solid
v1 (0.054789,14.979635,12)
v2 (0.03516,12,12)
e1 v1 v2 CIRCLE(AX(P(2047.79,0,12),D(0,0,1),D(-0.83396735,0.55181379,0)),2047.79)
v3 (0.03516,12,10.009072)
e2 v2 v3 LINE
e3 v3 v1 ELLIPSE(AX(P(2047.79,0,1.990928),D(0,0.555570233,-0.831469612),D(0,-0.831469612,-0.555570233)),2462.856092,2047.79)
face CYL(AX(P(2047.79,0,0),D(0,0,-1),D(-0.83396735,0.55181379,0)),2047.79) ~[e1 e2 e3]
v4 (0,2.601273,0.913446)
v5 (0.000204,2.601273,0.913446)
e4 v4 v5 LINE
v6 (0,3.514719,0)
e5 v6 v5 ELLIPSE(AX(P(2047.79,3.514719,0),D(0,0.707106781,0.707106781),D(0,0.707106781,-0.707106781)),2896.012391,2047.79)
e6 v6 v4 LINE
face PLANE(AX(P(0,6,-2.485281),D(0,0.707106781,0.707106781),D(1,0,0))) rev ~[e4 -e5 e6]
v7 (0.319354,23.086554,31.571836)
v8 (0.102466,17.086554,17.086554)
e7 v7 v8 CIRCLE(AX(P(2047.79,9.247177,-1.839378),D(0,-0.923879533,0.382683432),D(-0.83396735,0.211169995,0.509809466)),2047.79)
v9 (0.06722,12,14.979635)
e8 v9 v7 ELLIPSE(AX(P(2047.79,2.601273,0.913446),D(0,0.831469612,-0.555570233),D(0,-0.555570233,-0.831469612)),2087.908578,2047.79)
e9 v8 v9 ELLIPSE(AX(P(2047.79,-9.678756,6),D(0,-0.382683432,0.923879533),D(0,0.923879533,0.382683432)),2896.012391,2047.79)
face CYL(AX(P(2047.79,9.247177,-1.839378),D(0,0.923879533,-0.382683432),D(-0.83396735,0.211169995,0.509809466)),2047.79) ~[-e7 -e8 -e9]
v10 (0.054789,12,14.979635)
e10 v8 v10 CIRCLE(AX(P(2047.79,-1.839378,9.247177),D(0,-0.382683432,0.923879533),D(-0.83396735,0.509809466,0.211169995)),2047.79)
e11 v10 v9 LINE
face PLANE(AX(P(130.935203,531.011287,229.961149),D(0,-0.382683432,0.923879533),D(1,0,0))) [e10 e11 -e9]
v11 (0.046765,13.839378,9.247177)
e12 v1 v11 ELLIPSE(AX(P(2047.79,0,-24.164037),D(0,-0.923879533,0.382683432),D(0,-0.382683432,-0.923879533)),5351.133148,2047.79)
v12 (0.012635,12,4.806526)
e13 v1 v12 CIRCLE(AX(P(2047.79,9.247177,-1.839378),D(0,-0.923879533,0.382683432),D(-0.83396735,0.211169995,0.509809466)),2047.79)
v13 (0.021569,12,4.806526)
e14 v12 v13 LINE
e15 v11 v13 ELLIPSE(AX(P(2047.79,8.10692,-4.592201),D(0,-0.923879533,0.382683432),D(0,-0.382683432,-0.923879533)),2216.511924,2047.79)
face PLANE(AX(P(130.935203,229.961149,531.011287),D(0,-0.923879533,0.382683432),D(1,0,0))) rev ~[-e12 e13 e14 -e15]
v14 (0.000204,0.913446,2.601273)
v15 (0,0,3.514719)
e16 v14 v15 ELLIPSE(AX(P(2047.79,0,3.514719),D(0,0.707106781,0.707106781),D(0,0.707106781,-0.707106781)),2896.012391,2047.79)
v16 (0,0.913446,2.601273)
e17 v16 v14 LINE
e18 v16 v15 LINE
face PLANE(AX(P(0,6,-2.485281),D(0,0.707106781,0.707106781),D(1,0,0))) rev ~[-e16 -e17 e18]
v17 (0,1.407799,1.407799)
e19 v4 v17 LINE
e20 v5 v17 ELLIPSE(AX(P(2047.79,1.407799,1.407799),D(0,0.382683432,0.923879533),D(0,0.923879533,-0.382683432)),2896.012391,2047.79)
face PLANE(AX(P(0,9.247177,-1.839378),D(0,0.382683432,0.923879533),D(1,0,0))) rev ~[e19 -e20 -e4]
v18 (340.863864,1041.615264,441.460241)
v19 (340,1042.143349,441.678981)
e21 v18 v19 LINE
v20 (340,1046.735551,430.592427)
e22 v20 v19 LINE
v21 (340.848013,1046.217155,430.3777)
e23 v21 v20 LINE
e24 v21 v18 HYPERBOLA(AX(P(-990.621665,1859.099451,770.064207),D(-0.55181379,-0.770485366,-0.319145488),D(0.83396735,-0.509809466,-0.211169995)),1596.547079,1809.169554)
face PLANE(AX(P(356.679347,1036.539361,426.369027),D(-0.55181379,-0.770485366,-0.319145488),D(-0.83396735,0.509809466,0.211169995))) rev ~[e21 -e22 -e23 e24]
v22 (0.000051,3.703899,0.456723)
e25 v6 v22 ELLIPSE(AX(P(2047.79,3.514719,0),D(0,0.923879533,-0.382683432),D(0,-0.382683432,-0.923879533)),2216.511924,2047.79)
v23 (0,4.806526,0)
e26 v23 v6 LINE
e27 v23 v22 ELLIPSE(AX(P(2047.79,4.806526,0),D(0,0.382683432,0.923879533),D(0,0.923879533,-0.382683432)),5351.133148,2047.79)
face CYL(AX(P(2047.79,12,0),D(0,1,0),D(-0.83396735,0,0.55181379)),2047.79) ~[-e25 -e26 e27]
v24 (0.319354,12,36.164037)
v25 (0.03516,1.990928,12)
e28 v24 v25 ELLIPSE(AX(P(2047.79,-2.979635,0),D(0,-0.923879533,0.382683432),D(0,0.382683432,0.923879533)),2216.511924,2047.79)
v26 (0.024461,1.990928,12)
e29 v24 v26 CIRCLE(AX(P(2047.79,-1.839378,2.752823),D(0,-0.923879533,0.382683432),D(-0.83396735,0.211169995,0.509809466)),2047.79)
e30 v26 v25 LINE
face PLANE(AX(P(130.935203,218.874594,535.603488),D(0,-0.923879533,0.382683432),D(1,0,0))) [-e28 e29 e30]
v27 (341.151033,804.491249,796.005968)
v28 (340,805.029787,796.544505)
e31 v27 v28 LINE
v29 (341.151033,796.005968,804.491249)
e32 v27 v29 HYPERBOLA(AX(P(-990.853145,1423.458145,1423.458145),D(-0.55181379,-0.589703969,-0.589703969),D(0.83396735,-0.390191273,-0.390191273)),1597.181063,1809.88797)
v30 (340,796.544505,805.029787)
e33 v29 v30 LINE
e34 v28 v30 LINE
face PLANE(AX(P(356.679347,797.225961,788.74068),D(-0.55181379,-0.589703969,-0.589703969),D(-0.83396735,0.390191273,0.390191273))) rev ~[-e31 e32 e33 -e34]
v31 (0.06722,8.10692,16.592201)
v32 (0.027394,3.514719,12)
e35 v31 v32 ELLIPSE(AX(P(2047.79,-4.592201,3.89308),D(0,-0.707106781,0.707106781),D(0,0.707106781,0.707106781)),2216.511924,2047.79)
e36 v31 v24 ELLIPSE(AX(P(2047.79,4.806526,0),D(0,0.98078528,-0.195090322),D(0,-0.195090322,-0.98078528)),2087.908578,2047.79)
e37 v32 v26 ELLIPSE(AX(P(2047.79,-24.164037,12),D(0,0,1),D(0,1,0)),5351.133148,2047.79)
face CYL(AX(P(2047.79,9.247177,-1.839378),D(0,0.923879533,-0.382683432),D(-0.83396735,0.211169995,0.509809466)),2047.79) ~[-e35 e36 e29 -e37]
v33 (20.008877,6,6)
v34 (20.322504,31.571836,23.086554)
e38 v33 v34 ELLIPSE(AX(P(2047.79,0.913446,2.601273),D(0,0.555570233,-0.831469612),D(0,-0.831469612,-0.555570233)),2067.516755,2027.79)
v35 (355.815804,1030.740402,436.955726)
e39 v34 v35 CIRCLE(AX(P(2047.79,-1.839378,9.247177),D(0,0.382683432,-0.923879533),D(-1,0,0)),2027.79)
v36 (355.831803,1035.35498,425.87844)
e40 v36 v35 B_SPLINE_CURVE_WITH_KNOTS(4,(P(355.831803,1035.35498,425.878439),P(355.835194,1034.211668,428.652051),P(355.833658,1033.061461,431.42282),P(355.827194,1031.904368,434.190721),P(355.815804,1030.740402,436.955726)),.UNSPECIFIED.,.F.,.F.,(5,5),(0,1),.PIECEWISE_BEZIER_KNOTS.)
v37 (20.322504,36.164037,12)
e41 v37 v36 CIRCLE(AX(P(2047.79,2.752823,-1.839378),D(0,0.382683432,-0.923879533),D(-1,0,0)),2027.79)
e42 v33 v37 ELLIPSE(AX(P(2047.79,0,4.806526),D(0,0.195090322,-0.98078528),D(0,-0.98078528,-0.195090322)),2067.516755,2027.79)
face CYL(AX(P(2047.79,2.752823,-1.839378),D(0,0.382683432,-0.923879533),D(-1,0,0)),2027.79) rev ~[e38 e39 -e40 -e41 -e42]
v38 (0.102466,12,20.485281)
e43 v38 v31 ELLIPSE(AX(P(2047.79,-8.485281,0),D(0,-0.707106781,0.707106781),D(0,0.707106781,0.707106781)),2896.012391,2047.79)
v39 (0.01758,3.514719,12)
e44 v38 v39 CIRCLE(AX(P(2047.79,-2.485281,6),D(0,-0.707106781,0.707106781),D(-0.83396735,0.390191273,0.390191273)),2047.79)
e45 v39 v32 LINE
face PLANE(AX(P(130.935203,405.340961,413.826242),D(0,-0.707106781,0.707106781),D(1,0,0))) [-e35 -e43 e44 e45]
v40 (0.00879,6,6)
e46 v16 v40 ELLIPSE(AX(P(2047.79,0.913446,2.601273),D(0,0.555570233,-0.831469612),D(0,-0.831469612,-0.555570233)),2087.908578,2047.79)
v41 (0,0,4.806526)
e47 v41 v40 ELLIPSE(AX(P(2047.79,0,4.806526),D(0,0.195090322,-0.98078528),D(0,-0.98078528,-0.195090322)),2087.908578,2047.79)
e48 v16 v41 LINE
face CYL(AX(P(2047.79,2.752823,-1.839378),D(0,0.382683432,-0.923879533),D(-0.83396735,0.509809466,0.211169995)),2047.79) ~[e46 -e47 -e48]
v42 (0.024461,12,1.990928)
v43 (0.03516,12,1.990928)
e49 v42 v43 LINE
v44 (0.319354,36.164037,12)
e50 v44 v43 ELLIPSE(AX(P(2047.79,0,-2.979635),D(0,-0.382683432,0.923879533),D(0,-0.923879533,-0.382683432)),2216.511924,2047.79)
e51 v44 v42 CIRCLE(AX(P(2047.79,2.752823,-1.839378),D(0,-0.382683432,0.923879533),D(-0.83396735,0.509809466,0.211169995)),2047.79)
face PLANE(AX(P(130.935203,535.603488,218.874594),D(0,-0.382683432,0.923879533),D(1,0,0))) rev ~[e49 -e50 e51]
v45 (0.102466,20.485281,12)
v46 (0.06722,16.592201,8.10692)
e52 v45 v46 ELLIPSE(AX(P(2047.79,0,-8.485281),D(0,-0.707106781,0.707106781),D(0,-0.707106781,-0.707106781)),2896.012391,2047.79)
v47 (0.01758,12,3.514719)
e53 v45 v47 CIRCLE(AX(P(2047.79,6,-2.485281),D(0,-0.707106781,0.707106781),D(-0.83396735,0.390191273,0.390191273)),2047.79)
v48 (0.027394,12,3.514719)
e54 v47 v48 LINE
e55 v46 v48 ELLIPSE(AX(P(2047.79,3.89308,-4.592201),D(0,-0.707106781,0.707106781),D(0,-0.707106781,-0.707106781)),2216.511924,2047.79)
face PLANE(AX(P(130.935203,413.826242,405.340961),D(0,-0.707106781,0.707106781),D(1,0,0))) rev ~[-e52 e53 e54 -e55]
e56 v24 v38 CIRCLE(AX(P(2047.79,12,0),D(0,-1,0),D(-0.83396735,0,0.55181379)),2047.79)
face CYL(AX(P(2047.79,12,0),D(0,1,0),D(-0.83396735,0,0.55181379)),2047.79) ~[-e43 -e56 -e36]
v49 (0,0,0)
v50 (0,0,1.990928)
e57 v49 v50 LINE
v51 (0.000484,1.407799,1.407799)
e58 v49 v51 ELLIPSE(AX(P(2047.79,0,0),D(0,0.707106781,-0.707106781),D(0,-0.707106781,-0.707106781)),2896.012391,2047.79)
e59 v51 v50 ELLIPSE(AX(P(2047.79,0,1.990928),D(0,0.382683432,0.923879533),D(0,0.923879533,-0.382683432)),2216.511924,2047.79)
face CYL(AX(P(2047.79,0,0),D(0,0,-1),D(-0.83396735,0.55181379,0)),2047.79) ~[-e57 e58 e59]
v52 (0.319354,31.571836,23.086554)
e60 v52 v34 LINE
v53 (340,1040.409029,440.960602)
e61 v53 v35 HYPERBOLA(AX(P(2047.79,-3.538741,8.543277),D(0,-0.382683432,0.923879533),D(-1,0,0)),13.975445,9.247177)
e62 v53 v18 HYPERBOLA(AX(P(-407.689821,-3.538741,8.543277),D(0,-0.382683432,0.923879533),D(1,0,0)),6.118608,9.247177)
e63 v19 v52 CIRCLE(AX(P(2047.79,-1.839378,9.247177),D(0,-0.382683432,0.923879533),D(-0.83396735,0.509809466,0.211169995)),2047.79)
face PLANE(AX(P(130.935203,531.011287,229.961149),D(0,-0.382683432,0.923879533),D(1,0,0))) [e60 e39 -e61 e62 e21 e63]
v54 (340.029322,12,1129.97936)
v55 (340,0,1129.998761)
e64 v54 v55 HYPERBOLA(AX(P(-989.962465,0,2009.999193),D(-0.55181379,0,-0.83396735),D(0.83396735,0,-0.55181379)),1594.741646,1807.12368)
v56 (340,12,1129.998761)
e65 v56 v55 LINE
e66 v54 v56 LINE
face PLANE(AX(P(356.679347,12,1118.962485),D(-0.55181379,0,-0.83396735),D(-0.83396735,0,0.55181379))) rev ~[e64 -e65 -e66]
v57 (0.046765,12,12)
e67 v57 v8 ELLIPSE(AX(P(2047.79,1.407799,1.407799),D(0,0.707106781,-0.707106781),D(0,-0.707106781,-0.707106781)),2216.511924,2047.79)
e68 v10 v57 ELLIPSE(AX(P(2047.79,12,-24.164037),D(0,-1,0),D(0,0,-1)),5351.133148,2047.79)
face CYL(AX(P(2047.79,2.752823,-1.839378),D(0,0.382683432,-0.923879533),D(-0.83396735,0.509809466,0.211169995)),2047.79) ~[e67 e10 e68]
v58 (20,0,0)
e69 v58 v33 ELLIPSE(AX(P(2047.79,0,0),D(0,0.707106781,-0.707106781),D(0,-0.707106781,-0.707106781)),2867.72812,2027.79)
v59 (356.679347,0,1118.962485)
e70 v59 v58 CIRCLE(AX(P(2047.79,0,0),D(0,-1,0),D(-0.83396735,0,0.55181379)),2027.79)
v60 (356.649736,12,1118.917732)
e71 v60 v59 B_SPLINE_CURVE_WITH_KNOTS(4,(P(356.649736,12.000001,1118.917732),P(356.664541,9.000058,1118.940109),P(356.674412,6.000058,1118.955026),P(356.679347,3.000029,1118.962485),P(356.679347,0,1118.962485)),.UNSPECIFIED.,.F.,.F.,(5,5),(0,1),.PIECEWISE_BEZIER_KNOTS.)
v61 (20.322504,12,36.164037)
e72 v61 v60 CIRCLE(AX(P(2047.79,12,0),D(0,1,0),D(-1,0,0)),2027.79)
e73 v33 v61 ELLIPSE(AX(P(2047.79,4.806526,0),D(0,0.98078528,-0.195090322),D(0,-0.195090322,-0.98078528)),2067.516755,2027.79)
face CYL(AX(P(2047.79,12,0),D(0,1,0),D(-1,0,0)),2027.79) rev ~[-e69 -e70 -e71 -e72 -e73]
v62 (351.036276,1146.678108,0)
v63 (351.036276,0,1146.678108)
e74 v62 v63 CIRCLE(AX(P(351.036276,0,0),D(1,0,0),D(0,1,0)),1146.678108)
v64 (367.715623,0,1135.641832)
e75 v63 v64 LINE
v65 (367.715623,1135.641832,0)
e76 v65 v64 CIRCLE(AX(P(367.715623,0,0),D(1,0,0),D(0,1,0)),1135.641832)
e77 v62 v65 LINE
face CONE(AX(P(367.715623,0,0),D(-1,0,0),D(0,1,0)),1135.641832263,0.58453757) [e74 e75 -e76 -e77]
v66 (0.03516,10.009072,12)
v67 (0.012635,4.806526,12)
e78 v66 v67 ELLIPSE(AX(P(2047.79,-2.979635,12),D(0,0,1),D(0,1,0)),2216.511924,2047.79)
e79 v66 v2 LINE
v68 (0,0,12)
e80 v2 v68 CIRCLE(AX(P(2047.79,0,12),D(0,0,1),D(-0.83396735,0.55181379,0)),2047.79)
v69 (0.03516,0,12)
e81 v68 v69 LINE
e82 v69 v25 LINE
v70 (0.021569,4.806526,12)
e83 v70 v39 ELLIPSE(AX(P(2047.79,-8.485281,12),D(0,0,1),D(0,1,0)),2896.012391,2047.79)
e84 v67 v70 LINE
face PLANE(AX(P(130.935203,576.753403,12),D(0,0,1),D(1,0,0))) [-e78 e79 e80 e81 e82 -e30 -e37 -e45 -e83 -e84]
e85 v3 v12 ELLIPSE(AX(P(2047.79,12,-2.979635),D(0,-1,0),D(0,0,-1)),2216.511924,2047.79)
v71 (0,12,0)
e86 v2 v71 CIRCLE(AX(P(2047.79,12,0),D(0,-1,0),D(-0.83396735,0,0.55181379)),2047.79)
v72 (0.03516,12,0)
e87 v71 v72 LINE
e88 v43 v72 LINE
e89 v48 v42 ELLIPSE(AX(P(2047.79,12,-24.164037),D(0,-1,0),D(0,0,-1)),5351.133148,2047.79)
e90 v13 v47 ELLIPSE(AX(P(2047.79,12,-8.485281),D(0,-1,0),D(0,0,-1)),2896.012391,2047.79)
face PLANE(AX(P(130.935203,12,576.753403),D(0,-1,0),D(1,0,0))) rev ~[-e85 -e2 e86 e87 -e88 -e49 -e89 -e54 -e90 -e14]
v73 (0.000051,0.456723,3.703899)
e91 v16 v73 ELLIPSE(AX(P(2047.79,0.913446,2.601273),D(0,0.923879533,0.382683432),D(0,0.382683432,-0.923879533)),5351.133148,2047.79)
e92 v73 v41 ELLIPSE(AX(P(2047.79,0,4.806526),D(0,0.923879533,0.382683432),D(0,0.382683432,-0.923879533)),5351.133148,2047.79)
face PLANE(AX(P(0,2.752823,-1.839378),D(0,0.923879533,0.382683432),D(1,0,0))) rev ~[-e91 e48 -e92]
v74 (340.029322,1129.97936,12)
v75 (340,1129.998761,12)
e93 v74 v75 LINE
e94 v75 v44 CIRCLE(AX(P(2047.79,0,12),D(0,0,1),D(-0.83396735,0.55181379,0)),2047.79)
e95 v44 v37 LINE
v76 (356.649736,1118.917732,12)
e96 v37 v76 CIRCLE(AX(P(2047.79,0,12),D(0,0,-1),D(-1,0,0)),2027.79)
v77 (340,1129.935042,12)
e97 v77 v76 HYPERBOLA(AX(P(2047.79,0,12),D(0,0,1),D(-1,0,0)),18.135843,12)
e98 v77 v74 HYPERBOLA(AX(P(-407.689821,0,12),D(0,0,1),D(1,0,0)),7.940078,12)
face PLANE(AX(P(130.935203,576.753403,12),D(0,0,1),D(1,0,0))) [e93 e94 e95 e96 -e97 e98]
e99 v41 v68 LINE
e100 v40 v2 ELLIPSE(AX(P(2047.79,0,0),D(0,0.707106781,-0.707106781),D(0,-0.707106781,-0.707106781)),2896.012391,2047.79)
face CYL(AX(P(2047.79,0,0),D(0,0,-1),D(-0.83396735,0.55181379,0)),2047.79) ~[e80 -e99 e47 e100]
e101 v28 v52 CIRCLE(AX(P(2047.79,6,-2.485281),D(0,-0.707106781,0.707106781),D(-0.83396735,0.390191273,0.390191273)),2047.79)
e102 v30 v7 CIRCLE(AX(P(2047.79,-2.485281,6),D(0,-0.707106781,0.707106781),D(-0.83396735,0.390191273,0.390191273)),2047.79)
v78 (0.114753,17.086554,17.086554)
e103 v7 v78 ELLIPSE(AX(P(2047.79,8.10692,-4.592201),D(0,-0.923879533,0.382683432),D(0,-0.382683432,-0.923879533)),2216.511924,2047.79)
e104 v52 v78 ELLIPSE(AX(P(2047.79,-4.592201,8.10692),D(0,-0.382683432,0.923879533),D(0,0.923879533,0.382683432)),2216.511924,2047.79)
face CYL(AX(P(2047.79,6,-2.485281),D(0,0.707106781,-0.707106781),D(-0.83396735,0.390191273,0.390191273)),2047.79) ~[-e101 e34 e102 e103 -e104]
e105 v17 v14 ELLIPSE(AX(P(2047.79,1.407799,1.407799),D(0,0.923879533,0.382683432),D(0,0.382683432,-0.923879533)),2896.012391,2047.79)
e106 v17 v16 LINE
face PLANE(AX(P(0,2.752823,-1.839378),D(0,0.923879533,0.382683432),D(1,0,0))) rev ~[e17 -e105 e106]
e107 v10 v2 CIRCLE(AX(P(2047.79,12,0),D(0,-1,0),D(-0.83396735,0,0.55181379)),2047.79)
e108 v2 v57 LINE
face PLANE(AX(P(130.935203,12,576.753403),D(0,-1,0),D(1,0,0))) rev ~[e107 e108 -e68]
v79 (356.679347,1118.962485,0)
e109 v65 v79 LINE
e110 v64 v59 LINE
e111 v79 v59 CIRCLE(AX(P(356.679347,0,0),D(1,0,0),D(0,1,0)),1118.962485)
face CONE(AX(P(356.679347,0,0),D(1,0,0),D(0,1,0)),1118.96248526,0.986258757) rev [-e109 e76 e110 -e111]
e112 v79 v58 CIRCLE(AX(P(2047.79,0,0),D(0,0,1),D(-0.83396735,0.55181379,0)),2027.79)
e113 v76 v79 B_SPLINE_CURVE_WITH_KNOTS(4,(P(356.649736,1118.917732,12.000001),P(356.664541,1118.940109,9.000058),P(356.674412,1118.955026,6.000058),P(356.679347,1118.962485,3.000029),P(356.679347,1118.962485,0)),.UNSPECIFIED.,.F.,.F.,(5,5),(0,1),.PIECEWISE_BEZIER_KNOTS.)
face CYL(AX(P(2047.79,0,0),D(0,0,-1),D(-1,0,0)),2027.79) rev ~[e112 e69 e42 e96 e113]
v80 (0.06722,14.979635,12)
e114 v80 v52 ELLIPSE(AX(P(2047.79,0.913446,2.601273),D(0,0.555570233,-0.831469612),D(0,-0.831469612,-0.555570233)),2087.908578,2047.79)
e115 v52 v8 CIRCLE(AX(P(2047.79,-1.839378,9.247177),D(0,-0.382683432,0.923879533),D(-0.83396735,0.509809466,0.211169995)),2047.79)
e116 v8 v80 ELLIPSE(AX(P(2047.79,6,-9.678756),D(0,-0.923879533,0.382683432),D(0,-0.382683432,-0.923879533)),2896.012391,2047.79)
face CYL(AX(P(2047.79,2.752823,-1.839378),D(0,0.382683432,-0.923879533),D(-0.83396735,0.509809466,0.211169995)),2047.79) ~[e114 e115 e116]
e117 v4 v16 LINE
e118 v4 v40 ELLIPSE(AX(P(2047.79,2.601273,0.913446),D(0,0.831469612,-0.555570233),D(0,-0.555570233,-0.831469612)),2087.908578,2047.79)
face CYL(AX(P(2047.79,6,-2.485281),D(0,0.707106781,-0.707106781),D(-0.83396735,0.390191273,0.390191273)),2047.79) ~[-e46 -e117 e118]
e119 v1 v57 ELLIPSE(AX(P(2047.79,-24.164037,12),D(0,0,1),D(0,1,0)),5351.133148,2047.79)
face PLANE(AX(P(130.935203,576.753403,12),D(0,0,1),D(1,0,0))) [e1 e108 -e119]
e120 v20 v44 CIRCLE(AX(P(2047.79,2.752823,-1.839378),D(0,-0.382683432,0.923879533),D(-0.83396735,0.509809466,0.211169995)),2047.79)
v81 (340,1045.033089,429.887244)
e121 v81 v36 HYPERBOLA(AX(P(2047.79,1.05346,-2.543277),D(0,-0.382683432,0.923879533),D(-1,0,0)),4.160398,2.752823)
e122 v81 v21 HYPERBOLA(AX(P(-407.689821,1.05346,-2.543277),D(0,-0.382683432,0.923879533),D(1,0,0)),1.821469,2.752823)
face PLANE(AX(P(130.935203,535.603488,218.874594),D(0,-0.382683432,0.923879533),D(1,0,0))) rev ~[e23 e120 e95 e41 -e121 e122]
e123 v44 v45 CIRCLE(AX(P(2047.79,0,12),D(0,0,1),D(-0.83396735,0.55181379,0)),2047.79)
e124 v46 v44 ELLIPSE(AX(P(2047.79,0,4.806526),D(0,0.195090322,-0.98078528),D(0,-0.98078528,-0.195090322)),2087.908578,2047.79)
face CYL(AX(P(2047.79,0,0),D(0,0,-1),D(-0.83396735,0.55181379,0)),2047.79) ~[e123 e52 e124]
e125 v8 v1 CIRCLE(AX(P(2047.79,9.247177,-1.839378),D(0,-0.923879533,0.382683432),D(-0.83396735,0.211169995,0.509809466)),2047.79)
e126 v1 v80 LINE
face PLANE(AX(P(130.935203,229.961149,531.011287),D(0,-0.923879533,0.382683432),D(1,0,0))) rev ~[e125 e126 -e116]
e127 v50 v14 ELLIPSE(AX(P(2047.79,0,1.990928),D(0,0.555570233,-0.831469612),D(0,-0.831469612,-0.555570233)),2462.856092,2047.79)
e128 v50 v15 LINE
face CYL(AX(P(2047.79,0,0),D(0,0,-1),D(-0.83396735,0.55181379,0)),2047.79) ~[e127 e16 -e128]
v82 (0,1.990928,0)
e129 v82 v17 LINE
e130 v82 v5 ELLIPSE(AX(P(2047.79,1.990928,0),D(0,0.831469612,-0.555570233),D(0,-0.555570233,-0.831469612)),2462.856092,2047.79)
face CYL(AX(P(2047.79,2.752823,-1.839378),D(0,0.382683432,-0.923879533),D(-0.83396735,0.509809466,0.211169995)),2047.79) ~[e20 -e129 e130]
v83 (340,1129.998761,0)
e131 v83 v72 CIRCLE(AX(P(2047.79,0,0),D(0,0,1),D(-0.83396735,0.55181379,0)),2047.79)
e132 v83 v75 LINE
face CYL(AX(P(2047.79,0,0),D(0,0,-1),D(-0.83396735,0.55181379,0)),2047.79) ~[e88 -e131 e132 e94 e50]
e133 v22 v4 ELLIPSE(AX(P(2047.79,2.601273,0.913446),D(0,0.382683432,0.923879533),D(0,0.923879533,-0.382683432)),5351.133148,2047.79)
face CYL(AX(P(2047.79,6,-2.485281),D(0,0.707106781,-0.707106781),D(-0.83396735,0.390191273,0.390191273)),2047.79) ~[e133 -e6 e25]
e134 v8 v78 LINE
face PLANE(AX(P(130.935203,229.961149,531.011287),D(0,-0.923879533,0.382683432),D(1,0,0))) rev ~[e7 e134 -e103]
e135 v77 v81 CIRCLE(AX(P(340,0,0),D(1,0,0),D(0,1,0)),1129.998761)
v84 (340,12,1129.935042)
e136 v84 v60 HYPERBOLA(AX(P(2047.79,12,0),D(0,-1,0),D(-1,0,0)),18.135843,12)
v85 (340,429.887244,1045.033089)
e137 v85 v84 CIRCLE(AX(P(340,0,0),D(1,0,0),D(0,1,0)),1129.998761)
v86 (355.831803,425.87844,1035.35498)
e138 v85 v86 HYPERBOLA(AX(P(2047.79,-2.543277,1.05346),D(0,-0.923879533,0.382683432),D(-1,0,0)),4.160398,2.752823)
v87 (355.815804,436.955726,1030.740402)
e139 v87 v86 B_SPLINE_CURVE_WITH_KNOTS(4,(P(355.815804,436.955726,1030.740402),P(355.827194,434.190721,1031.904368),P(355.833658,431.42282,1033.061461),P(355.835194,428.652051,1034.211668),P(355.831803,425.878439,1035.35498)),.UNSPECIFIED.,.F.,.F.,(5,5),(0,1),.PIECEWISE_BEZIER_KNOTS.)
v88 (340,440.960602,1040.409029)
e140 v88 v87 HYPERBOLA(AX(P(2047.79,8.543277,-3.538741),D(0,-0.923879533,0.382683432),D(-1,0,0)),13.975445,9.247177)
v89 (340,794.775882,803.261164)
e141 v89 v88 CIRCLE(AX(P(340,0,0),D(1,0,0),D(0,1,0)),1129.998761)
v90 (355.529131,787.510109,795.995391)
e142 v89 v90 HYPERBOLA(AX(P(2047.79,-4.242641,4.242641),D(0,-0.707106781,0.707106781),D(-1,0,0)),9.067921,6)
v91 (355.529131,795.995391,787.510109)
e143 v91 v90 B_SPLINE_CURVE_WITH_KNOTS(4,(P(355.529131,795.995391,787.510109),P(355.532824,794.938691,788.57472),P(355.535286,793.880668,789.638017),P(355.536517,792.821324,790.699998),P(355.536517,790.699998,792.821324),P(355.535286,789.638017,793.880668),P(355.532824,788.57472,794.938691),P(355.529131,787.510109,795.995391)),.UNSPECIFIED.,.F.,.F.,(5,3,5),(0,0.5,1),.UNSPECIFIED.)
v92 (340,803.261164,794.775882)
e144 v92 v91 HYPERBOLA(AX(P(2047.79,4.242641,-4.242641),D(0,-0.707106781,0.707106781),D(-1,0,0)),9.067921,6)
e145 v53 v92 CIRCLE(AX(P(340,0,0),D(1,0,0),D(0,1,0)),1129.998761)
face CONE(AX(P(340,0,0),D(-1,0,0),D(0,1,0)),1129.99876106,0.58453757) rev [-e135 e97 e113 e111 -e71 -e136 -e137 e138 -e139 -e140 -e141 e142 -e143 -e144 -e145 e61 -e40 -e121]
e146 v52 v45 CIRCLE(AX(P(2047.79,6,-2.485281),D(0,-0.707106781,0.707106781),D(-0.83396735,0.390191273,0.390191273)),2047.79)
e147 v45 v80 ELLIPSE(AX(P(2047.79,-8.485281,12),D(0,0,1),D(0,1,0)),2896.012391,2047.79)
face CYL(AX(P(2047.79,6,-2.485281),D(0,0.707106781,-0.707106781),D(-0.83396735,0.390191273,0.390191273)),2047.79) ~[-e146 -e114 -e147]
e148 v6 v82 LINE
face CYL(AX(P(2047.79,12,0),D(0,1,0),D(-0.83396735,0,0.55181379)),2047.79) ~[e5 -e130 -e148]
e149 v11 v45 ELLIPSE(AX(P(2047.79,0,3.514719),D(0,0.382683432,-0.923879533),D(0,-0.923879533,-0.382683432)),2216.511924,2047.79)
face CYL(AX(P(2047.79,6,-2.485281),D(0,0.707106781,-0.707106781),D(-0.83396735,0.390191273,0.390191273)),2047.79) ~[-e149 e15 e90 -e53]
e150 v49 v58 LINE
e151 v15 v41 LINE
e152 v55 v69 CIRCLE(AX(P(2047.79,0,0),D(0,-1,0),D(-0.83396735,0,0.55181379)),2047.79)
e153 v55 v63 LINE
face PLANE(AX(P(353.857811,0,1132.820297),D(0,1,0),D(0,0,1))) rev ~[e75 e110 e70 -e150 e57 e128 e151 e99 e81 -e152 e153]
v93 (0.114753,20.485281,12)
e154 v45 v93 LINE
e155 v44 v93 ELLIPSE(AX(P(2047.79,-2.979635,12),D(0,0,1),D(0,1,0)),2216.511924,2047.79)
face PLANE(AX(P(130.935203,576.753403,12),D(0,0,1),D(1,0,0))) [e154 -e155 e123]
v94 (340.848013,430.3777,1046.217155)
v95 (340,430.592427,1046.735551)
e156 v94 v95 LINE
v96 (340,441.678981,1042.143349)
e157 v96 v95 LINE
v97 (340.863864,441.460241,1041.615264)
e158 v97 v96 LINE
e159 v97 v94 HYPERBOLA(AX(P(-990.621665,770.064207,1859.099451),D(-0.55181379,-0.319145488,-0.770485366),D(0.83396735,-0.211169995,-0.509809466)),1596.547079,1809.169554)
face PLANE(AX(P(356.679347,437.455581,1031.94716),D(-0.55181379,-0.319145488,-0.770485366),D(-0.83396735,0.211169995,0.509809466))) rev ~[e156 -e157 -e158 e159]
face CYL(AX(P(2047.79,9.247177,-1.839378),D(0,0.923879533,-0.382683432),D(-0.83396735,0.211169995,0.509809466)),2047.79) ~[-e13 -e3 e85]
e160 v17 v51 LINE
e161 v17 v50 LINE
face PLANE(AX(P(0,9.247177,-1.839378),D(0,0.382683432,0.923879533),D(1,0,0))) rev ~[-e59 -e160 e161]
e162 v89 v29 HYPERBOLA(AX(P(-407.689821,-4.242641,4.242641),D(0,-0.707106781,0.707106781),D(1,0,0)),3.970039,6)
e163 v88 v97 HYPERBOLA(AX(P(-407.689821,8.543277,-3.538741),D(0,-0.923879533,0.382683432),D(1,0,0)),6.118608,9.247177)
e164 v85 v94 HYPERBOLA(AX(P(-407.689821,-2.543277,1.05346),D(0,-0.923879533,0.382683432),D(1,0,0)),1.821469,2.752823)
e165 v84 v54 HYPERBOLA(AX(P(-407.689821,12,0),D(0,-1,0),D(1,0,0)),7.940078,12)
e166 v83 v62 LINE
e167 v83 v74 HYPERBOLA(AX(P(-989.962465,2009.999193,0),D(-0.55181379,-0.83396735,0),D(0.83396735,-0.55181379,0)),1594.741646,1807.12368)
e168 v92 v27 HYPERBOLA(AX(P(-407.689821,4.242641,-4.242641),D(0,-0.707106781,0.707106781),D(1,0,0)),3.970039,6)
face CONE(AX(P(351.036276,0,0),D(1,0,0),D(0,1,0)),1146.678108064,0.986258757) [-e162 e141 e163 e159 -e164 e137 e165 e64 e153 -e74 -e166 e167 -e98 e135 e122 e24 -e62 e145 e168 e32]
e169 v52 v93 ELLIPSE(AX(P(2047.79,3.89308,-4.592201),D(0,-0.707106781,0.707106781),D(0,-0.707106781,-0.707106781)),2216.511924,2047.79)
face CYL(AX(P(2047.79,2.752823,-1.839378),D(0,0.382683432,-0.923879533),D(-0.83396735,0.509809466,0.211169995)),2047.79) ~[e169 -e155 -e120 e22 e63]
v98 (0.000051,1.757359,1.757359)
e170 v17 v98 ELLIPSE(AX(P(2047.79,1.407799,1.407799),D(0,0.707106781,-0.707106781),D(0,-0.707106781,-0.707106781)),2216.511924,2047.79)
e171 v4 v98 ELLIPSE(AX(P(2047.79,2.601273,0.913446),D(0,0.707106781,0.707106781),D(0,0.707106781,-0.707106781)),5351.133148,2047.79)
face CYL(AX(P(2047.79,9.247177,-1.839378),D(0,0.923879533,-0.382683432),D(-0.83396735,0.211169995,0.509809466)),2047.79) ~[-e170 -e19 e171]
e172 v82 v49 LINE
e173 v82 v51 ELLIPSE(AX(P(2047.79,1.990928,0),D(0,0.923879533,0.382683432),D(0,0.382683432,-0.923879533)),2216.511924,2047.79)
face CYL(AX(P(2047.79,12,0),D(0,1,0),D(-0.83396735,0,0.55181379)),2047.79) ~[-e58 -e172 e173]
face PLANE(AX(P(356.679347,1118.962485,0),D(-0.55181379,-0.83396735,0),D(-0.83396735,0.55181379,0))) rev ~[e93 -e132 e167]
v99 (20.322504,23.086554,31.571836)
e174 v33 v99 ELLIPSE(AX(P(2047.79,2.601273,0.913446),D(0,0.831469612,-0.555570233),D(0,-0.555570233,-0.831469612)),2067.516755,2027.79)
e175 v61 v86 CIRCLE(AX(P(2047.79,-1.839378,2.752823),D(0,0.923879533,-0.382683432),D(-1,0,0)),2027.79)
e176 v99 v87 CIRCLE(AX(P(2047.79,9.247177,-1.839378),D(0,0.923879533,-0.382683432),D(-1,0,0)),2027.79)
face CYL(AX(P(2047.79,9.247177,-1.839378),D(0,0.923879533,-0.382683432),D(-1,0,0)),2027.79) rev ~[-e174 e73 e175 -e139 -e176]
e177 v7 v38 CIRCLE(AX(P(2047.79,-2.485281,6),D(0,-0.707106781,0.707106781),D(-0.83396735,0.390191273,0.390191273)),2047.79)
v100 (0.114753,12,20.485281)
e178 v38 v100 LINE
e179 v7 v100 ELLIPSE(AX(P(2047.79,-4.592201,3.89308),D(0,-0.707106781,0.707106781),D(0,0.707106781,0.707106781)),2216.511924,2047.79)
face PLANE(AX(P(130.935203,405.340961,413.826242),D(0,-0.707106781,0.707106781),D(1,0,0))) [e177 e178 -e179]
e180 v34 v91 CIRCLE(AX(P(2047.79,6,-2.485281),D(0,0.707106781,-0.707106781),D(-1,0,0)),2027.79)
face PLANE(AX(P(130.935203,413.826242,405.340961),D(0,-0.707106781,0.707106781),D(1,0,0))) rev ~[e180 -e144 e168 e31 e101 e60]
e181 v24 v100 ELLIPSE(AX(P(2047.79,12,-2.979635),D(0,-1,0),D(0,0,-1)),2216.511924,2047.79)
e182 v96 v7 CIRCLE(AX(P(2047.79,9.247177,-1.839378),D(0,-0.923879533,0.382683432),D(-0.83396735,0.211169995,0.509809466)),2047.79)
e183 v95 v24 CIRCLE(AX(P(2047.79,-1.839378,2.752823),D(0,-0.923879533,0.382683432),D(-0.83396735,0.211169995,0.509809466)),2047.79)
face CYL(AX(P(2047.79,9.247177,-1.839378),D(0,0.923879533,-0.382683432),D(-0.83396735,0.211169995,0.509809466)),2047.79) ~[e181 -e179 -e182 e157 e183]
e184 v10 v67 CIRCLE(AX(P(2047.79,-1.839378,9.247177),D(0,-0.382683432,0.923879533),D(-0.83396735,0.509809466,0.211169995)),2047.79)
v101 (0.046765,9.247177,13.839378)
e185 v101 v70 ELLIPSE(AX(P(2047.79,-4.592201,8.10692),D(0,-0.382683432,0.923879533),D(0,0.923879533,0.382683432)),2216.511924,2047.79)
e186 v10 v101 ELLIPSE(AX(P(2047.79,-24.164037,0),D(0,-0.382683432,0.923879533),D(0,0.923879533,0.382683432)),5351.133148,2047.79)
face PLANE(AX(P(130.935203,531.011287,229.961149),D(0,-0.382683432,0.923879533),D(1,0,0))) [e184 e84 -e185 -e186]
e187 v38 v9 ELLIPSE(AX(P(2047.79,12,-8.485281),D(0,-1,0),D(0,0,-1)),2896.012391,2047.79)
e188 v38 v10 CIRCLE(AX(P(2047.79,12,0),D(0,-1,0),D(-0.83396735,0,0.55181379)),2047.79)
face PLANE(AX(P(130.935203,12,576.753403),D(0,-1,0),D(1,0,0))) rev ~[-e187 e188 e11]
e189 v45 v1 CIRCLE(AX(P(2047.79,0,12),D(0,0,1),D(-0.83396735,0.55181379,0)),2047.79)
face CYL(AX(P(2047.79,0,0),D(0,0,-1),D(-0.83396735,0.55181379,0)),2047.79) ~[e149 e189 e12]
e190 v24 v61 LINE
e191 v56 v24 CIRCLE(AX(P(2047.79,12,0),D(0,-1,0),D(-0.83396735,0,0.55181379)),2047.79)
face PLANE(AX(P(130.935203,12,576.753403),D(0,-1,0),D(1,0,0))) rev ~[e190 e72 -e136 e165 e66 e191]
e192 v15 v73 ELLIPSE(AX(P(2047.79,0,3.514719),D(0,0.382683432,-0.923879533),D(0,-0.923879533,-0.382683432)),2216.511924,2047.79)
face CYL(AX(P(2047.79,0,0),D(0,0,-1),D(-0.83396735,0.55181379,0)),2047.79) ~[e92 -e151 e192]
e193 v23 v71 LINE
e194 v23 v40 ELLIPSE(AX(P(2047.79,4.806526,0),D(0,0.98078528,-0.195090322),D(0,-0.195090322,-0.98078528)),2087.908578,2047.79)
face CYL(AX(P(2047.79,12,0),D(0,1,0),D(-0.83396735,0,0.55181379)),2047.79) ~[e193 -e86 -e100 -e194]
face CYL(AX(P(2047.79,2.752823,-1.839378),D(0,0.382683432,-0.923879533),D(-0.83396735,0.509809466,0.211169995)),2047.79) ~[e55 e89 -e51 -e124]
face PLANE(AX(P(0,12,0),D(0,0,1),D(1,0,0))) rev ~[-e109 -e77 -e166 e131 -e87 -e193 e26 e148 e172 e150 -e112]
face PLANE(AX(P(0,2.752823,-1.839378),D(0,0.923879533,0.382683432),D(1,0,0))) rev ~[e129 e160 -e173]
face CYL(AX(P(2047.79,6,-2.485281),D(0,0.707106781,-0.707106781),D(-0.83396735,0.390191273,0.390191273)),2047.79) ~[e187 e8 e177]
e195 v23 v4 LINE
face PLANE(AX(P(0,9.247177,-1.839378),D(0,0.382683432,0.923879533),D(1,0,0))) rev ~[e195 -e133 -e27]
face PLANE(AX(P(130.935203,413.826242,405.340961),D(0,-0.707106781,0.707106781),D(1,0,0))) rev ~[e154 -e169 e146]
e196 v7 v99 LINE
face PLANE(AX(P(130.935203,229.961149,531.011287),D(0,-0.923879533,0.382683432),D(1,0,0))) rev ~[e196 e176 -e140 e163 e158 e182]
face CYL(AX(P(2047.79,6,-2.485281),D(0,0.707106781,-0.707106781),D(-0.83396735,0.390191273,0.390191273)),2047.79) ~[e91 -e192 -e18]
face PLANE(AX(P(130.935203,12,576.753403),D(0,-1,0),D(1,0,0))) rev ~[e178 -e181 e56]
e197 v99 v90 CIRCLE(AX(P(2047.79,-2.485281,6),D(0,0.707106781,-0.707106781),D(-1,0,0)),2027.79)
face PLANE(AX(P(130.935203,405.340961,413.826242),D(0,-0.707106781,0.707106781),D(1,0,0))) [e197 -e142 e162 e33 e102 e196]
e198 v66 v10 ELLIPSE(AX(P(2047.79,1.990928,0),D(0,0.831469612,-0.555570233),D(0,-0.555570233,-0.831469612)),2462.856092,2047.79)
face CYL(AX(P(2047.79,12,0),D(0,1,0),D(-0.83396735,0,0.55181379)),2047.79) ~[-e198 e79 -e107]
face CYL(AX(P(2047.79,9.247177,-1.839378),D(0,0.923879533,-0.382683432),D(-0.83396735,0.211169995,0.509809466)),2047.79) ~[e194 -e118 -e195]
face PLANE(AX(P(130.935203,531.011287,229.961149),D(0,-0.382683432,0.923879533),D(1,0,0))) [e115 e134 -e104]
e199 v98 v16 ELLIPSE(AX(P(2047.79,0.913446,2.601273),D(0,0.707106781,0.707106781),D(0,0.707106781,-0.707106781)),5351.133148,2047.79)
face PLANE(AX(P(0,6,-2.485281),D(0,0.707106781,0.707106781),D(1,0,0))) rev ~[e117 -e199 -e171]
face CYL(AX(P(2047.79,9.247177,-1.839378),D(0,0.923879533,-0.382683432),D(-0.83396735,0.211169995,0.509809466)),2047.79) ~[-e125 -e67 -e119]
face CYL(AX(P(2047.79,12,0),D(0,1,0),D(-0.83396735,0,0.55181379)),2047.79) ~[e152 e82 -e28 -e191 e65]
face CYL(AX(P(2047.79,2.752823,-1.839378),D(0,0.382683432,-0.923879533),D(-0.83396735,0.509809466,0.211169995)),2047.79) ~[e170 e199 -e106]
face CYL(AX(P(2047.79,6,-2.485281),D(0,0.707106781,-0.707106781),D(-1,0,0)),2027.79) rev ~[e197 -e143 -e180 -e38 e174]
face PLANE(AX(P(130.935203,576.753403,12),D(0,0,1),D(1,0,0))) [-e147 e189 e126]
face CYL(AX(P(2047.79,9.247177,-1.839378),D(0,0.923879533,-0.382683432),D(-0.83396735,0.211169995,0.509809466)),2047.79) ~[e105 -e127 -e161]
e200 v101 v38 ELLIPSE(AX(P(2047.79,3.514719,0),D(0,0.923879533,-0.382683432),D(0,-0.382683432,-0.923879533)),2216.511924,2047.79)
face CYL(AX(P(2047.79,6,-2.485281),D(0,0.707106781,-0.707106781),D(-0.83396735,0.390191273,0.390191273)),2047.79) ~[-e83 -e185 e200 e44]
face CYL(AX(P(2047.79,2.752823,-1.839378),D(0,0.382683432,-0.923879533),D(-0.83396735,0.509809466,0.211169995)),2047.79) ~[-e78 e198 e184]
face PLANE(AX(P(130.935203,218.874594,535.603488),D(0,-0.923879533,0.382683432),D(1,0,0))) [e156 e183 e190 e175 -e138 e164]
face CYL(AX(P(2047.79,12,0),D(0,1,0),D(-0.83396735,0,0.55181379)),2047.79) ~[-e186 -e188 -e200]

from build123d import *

# Parameters (mm, degrees)
BOSS_EXTRUDE1_DEPTH = 12
CIRPATTERN1_COUNT   = 5
CIRPATTERN1_ANGLE   = 90
CUT_EXTRUDE1_DEPTH  = 1638.380394587


with BuildPart() as part:
    # Sketch2 → Boss-Extrude1 (new body)
    with BuildSketch(Plane.XY):
        with BuildLine():
            Line((0, 0), (20, 0))
            ThreePointArc((20, 0), (105.993208992, 584.258082126), (356.679347003, 1118.962485261))
            Line((356.679347003, 1118.962485261), (340, 1129.998761061))
            ThreePointArc((340, 1129.998761061), (86.841356078, 590.020592861), (0, 0))
        make_face()
    boss_extrude1 = extrude(amount=BOSS_EXTRUDE1_DEPTH)

    # CirPattern1: Boss-Extrude1 ×5 about axis
    cirpattern1_axis = Axis((-103.3895, 6, 6), (1, 0, 0))
    for i in range(1, CIRPATTERN1_COUNT):
        add(boss_extrude1.rotate(cirpattern1_axis, i * CIRPATTERN1_ANGLE / (CIRPATTERN1_COUNT - 1)))

    # Sketch3 → Cut-Extrude1 (cut, through all)
    with BuildSketch(Plane(origin=(0, 0, 0), x_dir=(0, 0, -1), z_dir=(1, 0, 0))):
        Polygon((0, 0), (0, 11.27415685), (5.748633728, 11.27415685), (5.748633728, -8.438156221), (-12.082999297, -8.438156221), (-12, 0), align=None)
    extrude(amount=CUT_EXTRUDE1_DEPTH, mode=Mode.SUBTRACT)

    # Sweep1: sweep along a path in Sketch5
    with BuildLine(Plane(origin=(0, 0, 0), x_dir=(0, 0, -1), z_dir=(1, 0, 0))) as sweep1_path:
        ThreePointArc((0, 1130), (-799.030662741, 799.030662741), (-1130, 0))
    # Sketch4 → Sweep1 (sweep)
    with BuildSketch(Plane(origin=(0, 0, 0), x_dir=(-1, 0, 0), z_dir=(0, 0, -1))):
        Polygon((-340, 1129.998761061), (-356.679347003, 1118.962485261), (-367.715622804, 1135.641832264), (-351.0362758, 1146.678108065), align=None)
    sweep(path=sweep1_path.line)


solid = part.part
